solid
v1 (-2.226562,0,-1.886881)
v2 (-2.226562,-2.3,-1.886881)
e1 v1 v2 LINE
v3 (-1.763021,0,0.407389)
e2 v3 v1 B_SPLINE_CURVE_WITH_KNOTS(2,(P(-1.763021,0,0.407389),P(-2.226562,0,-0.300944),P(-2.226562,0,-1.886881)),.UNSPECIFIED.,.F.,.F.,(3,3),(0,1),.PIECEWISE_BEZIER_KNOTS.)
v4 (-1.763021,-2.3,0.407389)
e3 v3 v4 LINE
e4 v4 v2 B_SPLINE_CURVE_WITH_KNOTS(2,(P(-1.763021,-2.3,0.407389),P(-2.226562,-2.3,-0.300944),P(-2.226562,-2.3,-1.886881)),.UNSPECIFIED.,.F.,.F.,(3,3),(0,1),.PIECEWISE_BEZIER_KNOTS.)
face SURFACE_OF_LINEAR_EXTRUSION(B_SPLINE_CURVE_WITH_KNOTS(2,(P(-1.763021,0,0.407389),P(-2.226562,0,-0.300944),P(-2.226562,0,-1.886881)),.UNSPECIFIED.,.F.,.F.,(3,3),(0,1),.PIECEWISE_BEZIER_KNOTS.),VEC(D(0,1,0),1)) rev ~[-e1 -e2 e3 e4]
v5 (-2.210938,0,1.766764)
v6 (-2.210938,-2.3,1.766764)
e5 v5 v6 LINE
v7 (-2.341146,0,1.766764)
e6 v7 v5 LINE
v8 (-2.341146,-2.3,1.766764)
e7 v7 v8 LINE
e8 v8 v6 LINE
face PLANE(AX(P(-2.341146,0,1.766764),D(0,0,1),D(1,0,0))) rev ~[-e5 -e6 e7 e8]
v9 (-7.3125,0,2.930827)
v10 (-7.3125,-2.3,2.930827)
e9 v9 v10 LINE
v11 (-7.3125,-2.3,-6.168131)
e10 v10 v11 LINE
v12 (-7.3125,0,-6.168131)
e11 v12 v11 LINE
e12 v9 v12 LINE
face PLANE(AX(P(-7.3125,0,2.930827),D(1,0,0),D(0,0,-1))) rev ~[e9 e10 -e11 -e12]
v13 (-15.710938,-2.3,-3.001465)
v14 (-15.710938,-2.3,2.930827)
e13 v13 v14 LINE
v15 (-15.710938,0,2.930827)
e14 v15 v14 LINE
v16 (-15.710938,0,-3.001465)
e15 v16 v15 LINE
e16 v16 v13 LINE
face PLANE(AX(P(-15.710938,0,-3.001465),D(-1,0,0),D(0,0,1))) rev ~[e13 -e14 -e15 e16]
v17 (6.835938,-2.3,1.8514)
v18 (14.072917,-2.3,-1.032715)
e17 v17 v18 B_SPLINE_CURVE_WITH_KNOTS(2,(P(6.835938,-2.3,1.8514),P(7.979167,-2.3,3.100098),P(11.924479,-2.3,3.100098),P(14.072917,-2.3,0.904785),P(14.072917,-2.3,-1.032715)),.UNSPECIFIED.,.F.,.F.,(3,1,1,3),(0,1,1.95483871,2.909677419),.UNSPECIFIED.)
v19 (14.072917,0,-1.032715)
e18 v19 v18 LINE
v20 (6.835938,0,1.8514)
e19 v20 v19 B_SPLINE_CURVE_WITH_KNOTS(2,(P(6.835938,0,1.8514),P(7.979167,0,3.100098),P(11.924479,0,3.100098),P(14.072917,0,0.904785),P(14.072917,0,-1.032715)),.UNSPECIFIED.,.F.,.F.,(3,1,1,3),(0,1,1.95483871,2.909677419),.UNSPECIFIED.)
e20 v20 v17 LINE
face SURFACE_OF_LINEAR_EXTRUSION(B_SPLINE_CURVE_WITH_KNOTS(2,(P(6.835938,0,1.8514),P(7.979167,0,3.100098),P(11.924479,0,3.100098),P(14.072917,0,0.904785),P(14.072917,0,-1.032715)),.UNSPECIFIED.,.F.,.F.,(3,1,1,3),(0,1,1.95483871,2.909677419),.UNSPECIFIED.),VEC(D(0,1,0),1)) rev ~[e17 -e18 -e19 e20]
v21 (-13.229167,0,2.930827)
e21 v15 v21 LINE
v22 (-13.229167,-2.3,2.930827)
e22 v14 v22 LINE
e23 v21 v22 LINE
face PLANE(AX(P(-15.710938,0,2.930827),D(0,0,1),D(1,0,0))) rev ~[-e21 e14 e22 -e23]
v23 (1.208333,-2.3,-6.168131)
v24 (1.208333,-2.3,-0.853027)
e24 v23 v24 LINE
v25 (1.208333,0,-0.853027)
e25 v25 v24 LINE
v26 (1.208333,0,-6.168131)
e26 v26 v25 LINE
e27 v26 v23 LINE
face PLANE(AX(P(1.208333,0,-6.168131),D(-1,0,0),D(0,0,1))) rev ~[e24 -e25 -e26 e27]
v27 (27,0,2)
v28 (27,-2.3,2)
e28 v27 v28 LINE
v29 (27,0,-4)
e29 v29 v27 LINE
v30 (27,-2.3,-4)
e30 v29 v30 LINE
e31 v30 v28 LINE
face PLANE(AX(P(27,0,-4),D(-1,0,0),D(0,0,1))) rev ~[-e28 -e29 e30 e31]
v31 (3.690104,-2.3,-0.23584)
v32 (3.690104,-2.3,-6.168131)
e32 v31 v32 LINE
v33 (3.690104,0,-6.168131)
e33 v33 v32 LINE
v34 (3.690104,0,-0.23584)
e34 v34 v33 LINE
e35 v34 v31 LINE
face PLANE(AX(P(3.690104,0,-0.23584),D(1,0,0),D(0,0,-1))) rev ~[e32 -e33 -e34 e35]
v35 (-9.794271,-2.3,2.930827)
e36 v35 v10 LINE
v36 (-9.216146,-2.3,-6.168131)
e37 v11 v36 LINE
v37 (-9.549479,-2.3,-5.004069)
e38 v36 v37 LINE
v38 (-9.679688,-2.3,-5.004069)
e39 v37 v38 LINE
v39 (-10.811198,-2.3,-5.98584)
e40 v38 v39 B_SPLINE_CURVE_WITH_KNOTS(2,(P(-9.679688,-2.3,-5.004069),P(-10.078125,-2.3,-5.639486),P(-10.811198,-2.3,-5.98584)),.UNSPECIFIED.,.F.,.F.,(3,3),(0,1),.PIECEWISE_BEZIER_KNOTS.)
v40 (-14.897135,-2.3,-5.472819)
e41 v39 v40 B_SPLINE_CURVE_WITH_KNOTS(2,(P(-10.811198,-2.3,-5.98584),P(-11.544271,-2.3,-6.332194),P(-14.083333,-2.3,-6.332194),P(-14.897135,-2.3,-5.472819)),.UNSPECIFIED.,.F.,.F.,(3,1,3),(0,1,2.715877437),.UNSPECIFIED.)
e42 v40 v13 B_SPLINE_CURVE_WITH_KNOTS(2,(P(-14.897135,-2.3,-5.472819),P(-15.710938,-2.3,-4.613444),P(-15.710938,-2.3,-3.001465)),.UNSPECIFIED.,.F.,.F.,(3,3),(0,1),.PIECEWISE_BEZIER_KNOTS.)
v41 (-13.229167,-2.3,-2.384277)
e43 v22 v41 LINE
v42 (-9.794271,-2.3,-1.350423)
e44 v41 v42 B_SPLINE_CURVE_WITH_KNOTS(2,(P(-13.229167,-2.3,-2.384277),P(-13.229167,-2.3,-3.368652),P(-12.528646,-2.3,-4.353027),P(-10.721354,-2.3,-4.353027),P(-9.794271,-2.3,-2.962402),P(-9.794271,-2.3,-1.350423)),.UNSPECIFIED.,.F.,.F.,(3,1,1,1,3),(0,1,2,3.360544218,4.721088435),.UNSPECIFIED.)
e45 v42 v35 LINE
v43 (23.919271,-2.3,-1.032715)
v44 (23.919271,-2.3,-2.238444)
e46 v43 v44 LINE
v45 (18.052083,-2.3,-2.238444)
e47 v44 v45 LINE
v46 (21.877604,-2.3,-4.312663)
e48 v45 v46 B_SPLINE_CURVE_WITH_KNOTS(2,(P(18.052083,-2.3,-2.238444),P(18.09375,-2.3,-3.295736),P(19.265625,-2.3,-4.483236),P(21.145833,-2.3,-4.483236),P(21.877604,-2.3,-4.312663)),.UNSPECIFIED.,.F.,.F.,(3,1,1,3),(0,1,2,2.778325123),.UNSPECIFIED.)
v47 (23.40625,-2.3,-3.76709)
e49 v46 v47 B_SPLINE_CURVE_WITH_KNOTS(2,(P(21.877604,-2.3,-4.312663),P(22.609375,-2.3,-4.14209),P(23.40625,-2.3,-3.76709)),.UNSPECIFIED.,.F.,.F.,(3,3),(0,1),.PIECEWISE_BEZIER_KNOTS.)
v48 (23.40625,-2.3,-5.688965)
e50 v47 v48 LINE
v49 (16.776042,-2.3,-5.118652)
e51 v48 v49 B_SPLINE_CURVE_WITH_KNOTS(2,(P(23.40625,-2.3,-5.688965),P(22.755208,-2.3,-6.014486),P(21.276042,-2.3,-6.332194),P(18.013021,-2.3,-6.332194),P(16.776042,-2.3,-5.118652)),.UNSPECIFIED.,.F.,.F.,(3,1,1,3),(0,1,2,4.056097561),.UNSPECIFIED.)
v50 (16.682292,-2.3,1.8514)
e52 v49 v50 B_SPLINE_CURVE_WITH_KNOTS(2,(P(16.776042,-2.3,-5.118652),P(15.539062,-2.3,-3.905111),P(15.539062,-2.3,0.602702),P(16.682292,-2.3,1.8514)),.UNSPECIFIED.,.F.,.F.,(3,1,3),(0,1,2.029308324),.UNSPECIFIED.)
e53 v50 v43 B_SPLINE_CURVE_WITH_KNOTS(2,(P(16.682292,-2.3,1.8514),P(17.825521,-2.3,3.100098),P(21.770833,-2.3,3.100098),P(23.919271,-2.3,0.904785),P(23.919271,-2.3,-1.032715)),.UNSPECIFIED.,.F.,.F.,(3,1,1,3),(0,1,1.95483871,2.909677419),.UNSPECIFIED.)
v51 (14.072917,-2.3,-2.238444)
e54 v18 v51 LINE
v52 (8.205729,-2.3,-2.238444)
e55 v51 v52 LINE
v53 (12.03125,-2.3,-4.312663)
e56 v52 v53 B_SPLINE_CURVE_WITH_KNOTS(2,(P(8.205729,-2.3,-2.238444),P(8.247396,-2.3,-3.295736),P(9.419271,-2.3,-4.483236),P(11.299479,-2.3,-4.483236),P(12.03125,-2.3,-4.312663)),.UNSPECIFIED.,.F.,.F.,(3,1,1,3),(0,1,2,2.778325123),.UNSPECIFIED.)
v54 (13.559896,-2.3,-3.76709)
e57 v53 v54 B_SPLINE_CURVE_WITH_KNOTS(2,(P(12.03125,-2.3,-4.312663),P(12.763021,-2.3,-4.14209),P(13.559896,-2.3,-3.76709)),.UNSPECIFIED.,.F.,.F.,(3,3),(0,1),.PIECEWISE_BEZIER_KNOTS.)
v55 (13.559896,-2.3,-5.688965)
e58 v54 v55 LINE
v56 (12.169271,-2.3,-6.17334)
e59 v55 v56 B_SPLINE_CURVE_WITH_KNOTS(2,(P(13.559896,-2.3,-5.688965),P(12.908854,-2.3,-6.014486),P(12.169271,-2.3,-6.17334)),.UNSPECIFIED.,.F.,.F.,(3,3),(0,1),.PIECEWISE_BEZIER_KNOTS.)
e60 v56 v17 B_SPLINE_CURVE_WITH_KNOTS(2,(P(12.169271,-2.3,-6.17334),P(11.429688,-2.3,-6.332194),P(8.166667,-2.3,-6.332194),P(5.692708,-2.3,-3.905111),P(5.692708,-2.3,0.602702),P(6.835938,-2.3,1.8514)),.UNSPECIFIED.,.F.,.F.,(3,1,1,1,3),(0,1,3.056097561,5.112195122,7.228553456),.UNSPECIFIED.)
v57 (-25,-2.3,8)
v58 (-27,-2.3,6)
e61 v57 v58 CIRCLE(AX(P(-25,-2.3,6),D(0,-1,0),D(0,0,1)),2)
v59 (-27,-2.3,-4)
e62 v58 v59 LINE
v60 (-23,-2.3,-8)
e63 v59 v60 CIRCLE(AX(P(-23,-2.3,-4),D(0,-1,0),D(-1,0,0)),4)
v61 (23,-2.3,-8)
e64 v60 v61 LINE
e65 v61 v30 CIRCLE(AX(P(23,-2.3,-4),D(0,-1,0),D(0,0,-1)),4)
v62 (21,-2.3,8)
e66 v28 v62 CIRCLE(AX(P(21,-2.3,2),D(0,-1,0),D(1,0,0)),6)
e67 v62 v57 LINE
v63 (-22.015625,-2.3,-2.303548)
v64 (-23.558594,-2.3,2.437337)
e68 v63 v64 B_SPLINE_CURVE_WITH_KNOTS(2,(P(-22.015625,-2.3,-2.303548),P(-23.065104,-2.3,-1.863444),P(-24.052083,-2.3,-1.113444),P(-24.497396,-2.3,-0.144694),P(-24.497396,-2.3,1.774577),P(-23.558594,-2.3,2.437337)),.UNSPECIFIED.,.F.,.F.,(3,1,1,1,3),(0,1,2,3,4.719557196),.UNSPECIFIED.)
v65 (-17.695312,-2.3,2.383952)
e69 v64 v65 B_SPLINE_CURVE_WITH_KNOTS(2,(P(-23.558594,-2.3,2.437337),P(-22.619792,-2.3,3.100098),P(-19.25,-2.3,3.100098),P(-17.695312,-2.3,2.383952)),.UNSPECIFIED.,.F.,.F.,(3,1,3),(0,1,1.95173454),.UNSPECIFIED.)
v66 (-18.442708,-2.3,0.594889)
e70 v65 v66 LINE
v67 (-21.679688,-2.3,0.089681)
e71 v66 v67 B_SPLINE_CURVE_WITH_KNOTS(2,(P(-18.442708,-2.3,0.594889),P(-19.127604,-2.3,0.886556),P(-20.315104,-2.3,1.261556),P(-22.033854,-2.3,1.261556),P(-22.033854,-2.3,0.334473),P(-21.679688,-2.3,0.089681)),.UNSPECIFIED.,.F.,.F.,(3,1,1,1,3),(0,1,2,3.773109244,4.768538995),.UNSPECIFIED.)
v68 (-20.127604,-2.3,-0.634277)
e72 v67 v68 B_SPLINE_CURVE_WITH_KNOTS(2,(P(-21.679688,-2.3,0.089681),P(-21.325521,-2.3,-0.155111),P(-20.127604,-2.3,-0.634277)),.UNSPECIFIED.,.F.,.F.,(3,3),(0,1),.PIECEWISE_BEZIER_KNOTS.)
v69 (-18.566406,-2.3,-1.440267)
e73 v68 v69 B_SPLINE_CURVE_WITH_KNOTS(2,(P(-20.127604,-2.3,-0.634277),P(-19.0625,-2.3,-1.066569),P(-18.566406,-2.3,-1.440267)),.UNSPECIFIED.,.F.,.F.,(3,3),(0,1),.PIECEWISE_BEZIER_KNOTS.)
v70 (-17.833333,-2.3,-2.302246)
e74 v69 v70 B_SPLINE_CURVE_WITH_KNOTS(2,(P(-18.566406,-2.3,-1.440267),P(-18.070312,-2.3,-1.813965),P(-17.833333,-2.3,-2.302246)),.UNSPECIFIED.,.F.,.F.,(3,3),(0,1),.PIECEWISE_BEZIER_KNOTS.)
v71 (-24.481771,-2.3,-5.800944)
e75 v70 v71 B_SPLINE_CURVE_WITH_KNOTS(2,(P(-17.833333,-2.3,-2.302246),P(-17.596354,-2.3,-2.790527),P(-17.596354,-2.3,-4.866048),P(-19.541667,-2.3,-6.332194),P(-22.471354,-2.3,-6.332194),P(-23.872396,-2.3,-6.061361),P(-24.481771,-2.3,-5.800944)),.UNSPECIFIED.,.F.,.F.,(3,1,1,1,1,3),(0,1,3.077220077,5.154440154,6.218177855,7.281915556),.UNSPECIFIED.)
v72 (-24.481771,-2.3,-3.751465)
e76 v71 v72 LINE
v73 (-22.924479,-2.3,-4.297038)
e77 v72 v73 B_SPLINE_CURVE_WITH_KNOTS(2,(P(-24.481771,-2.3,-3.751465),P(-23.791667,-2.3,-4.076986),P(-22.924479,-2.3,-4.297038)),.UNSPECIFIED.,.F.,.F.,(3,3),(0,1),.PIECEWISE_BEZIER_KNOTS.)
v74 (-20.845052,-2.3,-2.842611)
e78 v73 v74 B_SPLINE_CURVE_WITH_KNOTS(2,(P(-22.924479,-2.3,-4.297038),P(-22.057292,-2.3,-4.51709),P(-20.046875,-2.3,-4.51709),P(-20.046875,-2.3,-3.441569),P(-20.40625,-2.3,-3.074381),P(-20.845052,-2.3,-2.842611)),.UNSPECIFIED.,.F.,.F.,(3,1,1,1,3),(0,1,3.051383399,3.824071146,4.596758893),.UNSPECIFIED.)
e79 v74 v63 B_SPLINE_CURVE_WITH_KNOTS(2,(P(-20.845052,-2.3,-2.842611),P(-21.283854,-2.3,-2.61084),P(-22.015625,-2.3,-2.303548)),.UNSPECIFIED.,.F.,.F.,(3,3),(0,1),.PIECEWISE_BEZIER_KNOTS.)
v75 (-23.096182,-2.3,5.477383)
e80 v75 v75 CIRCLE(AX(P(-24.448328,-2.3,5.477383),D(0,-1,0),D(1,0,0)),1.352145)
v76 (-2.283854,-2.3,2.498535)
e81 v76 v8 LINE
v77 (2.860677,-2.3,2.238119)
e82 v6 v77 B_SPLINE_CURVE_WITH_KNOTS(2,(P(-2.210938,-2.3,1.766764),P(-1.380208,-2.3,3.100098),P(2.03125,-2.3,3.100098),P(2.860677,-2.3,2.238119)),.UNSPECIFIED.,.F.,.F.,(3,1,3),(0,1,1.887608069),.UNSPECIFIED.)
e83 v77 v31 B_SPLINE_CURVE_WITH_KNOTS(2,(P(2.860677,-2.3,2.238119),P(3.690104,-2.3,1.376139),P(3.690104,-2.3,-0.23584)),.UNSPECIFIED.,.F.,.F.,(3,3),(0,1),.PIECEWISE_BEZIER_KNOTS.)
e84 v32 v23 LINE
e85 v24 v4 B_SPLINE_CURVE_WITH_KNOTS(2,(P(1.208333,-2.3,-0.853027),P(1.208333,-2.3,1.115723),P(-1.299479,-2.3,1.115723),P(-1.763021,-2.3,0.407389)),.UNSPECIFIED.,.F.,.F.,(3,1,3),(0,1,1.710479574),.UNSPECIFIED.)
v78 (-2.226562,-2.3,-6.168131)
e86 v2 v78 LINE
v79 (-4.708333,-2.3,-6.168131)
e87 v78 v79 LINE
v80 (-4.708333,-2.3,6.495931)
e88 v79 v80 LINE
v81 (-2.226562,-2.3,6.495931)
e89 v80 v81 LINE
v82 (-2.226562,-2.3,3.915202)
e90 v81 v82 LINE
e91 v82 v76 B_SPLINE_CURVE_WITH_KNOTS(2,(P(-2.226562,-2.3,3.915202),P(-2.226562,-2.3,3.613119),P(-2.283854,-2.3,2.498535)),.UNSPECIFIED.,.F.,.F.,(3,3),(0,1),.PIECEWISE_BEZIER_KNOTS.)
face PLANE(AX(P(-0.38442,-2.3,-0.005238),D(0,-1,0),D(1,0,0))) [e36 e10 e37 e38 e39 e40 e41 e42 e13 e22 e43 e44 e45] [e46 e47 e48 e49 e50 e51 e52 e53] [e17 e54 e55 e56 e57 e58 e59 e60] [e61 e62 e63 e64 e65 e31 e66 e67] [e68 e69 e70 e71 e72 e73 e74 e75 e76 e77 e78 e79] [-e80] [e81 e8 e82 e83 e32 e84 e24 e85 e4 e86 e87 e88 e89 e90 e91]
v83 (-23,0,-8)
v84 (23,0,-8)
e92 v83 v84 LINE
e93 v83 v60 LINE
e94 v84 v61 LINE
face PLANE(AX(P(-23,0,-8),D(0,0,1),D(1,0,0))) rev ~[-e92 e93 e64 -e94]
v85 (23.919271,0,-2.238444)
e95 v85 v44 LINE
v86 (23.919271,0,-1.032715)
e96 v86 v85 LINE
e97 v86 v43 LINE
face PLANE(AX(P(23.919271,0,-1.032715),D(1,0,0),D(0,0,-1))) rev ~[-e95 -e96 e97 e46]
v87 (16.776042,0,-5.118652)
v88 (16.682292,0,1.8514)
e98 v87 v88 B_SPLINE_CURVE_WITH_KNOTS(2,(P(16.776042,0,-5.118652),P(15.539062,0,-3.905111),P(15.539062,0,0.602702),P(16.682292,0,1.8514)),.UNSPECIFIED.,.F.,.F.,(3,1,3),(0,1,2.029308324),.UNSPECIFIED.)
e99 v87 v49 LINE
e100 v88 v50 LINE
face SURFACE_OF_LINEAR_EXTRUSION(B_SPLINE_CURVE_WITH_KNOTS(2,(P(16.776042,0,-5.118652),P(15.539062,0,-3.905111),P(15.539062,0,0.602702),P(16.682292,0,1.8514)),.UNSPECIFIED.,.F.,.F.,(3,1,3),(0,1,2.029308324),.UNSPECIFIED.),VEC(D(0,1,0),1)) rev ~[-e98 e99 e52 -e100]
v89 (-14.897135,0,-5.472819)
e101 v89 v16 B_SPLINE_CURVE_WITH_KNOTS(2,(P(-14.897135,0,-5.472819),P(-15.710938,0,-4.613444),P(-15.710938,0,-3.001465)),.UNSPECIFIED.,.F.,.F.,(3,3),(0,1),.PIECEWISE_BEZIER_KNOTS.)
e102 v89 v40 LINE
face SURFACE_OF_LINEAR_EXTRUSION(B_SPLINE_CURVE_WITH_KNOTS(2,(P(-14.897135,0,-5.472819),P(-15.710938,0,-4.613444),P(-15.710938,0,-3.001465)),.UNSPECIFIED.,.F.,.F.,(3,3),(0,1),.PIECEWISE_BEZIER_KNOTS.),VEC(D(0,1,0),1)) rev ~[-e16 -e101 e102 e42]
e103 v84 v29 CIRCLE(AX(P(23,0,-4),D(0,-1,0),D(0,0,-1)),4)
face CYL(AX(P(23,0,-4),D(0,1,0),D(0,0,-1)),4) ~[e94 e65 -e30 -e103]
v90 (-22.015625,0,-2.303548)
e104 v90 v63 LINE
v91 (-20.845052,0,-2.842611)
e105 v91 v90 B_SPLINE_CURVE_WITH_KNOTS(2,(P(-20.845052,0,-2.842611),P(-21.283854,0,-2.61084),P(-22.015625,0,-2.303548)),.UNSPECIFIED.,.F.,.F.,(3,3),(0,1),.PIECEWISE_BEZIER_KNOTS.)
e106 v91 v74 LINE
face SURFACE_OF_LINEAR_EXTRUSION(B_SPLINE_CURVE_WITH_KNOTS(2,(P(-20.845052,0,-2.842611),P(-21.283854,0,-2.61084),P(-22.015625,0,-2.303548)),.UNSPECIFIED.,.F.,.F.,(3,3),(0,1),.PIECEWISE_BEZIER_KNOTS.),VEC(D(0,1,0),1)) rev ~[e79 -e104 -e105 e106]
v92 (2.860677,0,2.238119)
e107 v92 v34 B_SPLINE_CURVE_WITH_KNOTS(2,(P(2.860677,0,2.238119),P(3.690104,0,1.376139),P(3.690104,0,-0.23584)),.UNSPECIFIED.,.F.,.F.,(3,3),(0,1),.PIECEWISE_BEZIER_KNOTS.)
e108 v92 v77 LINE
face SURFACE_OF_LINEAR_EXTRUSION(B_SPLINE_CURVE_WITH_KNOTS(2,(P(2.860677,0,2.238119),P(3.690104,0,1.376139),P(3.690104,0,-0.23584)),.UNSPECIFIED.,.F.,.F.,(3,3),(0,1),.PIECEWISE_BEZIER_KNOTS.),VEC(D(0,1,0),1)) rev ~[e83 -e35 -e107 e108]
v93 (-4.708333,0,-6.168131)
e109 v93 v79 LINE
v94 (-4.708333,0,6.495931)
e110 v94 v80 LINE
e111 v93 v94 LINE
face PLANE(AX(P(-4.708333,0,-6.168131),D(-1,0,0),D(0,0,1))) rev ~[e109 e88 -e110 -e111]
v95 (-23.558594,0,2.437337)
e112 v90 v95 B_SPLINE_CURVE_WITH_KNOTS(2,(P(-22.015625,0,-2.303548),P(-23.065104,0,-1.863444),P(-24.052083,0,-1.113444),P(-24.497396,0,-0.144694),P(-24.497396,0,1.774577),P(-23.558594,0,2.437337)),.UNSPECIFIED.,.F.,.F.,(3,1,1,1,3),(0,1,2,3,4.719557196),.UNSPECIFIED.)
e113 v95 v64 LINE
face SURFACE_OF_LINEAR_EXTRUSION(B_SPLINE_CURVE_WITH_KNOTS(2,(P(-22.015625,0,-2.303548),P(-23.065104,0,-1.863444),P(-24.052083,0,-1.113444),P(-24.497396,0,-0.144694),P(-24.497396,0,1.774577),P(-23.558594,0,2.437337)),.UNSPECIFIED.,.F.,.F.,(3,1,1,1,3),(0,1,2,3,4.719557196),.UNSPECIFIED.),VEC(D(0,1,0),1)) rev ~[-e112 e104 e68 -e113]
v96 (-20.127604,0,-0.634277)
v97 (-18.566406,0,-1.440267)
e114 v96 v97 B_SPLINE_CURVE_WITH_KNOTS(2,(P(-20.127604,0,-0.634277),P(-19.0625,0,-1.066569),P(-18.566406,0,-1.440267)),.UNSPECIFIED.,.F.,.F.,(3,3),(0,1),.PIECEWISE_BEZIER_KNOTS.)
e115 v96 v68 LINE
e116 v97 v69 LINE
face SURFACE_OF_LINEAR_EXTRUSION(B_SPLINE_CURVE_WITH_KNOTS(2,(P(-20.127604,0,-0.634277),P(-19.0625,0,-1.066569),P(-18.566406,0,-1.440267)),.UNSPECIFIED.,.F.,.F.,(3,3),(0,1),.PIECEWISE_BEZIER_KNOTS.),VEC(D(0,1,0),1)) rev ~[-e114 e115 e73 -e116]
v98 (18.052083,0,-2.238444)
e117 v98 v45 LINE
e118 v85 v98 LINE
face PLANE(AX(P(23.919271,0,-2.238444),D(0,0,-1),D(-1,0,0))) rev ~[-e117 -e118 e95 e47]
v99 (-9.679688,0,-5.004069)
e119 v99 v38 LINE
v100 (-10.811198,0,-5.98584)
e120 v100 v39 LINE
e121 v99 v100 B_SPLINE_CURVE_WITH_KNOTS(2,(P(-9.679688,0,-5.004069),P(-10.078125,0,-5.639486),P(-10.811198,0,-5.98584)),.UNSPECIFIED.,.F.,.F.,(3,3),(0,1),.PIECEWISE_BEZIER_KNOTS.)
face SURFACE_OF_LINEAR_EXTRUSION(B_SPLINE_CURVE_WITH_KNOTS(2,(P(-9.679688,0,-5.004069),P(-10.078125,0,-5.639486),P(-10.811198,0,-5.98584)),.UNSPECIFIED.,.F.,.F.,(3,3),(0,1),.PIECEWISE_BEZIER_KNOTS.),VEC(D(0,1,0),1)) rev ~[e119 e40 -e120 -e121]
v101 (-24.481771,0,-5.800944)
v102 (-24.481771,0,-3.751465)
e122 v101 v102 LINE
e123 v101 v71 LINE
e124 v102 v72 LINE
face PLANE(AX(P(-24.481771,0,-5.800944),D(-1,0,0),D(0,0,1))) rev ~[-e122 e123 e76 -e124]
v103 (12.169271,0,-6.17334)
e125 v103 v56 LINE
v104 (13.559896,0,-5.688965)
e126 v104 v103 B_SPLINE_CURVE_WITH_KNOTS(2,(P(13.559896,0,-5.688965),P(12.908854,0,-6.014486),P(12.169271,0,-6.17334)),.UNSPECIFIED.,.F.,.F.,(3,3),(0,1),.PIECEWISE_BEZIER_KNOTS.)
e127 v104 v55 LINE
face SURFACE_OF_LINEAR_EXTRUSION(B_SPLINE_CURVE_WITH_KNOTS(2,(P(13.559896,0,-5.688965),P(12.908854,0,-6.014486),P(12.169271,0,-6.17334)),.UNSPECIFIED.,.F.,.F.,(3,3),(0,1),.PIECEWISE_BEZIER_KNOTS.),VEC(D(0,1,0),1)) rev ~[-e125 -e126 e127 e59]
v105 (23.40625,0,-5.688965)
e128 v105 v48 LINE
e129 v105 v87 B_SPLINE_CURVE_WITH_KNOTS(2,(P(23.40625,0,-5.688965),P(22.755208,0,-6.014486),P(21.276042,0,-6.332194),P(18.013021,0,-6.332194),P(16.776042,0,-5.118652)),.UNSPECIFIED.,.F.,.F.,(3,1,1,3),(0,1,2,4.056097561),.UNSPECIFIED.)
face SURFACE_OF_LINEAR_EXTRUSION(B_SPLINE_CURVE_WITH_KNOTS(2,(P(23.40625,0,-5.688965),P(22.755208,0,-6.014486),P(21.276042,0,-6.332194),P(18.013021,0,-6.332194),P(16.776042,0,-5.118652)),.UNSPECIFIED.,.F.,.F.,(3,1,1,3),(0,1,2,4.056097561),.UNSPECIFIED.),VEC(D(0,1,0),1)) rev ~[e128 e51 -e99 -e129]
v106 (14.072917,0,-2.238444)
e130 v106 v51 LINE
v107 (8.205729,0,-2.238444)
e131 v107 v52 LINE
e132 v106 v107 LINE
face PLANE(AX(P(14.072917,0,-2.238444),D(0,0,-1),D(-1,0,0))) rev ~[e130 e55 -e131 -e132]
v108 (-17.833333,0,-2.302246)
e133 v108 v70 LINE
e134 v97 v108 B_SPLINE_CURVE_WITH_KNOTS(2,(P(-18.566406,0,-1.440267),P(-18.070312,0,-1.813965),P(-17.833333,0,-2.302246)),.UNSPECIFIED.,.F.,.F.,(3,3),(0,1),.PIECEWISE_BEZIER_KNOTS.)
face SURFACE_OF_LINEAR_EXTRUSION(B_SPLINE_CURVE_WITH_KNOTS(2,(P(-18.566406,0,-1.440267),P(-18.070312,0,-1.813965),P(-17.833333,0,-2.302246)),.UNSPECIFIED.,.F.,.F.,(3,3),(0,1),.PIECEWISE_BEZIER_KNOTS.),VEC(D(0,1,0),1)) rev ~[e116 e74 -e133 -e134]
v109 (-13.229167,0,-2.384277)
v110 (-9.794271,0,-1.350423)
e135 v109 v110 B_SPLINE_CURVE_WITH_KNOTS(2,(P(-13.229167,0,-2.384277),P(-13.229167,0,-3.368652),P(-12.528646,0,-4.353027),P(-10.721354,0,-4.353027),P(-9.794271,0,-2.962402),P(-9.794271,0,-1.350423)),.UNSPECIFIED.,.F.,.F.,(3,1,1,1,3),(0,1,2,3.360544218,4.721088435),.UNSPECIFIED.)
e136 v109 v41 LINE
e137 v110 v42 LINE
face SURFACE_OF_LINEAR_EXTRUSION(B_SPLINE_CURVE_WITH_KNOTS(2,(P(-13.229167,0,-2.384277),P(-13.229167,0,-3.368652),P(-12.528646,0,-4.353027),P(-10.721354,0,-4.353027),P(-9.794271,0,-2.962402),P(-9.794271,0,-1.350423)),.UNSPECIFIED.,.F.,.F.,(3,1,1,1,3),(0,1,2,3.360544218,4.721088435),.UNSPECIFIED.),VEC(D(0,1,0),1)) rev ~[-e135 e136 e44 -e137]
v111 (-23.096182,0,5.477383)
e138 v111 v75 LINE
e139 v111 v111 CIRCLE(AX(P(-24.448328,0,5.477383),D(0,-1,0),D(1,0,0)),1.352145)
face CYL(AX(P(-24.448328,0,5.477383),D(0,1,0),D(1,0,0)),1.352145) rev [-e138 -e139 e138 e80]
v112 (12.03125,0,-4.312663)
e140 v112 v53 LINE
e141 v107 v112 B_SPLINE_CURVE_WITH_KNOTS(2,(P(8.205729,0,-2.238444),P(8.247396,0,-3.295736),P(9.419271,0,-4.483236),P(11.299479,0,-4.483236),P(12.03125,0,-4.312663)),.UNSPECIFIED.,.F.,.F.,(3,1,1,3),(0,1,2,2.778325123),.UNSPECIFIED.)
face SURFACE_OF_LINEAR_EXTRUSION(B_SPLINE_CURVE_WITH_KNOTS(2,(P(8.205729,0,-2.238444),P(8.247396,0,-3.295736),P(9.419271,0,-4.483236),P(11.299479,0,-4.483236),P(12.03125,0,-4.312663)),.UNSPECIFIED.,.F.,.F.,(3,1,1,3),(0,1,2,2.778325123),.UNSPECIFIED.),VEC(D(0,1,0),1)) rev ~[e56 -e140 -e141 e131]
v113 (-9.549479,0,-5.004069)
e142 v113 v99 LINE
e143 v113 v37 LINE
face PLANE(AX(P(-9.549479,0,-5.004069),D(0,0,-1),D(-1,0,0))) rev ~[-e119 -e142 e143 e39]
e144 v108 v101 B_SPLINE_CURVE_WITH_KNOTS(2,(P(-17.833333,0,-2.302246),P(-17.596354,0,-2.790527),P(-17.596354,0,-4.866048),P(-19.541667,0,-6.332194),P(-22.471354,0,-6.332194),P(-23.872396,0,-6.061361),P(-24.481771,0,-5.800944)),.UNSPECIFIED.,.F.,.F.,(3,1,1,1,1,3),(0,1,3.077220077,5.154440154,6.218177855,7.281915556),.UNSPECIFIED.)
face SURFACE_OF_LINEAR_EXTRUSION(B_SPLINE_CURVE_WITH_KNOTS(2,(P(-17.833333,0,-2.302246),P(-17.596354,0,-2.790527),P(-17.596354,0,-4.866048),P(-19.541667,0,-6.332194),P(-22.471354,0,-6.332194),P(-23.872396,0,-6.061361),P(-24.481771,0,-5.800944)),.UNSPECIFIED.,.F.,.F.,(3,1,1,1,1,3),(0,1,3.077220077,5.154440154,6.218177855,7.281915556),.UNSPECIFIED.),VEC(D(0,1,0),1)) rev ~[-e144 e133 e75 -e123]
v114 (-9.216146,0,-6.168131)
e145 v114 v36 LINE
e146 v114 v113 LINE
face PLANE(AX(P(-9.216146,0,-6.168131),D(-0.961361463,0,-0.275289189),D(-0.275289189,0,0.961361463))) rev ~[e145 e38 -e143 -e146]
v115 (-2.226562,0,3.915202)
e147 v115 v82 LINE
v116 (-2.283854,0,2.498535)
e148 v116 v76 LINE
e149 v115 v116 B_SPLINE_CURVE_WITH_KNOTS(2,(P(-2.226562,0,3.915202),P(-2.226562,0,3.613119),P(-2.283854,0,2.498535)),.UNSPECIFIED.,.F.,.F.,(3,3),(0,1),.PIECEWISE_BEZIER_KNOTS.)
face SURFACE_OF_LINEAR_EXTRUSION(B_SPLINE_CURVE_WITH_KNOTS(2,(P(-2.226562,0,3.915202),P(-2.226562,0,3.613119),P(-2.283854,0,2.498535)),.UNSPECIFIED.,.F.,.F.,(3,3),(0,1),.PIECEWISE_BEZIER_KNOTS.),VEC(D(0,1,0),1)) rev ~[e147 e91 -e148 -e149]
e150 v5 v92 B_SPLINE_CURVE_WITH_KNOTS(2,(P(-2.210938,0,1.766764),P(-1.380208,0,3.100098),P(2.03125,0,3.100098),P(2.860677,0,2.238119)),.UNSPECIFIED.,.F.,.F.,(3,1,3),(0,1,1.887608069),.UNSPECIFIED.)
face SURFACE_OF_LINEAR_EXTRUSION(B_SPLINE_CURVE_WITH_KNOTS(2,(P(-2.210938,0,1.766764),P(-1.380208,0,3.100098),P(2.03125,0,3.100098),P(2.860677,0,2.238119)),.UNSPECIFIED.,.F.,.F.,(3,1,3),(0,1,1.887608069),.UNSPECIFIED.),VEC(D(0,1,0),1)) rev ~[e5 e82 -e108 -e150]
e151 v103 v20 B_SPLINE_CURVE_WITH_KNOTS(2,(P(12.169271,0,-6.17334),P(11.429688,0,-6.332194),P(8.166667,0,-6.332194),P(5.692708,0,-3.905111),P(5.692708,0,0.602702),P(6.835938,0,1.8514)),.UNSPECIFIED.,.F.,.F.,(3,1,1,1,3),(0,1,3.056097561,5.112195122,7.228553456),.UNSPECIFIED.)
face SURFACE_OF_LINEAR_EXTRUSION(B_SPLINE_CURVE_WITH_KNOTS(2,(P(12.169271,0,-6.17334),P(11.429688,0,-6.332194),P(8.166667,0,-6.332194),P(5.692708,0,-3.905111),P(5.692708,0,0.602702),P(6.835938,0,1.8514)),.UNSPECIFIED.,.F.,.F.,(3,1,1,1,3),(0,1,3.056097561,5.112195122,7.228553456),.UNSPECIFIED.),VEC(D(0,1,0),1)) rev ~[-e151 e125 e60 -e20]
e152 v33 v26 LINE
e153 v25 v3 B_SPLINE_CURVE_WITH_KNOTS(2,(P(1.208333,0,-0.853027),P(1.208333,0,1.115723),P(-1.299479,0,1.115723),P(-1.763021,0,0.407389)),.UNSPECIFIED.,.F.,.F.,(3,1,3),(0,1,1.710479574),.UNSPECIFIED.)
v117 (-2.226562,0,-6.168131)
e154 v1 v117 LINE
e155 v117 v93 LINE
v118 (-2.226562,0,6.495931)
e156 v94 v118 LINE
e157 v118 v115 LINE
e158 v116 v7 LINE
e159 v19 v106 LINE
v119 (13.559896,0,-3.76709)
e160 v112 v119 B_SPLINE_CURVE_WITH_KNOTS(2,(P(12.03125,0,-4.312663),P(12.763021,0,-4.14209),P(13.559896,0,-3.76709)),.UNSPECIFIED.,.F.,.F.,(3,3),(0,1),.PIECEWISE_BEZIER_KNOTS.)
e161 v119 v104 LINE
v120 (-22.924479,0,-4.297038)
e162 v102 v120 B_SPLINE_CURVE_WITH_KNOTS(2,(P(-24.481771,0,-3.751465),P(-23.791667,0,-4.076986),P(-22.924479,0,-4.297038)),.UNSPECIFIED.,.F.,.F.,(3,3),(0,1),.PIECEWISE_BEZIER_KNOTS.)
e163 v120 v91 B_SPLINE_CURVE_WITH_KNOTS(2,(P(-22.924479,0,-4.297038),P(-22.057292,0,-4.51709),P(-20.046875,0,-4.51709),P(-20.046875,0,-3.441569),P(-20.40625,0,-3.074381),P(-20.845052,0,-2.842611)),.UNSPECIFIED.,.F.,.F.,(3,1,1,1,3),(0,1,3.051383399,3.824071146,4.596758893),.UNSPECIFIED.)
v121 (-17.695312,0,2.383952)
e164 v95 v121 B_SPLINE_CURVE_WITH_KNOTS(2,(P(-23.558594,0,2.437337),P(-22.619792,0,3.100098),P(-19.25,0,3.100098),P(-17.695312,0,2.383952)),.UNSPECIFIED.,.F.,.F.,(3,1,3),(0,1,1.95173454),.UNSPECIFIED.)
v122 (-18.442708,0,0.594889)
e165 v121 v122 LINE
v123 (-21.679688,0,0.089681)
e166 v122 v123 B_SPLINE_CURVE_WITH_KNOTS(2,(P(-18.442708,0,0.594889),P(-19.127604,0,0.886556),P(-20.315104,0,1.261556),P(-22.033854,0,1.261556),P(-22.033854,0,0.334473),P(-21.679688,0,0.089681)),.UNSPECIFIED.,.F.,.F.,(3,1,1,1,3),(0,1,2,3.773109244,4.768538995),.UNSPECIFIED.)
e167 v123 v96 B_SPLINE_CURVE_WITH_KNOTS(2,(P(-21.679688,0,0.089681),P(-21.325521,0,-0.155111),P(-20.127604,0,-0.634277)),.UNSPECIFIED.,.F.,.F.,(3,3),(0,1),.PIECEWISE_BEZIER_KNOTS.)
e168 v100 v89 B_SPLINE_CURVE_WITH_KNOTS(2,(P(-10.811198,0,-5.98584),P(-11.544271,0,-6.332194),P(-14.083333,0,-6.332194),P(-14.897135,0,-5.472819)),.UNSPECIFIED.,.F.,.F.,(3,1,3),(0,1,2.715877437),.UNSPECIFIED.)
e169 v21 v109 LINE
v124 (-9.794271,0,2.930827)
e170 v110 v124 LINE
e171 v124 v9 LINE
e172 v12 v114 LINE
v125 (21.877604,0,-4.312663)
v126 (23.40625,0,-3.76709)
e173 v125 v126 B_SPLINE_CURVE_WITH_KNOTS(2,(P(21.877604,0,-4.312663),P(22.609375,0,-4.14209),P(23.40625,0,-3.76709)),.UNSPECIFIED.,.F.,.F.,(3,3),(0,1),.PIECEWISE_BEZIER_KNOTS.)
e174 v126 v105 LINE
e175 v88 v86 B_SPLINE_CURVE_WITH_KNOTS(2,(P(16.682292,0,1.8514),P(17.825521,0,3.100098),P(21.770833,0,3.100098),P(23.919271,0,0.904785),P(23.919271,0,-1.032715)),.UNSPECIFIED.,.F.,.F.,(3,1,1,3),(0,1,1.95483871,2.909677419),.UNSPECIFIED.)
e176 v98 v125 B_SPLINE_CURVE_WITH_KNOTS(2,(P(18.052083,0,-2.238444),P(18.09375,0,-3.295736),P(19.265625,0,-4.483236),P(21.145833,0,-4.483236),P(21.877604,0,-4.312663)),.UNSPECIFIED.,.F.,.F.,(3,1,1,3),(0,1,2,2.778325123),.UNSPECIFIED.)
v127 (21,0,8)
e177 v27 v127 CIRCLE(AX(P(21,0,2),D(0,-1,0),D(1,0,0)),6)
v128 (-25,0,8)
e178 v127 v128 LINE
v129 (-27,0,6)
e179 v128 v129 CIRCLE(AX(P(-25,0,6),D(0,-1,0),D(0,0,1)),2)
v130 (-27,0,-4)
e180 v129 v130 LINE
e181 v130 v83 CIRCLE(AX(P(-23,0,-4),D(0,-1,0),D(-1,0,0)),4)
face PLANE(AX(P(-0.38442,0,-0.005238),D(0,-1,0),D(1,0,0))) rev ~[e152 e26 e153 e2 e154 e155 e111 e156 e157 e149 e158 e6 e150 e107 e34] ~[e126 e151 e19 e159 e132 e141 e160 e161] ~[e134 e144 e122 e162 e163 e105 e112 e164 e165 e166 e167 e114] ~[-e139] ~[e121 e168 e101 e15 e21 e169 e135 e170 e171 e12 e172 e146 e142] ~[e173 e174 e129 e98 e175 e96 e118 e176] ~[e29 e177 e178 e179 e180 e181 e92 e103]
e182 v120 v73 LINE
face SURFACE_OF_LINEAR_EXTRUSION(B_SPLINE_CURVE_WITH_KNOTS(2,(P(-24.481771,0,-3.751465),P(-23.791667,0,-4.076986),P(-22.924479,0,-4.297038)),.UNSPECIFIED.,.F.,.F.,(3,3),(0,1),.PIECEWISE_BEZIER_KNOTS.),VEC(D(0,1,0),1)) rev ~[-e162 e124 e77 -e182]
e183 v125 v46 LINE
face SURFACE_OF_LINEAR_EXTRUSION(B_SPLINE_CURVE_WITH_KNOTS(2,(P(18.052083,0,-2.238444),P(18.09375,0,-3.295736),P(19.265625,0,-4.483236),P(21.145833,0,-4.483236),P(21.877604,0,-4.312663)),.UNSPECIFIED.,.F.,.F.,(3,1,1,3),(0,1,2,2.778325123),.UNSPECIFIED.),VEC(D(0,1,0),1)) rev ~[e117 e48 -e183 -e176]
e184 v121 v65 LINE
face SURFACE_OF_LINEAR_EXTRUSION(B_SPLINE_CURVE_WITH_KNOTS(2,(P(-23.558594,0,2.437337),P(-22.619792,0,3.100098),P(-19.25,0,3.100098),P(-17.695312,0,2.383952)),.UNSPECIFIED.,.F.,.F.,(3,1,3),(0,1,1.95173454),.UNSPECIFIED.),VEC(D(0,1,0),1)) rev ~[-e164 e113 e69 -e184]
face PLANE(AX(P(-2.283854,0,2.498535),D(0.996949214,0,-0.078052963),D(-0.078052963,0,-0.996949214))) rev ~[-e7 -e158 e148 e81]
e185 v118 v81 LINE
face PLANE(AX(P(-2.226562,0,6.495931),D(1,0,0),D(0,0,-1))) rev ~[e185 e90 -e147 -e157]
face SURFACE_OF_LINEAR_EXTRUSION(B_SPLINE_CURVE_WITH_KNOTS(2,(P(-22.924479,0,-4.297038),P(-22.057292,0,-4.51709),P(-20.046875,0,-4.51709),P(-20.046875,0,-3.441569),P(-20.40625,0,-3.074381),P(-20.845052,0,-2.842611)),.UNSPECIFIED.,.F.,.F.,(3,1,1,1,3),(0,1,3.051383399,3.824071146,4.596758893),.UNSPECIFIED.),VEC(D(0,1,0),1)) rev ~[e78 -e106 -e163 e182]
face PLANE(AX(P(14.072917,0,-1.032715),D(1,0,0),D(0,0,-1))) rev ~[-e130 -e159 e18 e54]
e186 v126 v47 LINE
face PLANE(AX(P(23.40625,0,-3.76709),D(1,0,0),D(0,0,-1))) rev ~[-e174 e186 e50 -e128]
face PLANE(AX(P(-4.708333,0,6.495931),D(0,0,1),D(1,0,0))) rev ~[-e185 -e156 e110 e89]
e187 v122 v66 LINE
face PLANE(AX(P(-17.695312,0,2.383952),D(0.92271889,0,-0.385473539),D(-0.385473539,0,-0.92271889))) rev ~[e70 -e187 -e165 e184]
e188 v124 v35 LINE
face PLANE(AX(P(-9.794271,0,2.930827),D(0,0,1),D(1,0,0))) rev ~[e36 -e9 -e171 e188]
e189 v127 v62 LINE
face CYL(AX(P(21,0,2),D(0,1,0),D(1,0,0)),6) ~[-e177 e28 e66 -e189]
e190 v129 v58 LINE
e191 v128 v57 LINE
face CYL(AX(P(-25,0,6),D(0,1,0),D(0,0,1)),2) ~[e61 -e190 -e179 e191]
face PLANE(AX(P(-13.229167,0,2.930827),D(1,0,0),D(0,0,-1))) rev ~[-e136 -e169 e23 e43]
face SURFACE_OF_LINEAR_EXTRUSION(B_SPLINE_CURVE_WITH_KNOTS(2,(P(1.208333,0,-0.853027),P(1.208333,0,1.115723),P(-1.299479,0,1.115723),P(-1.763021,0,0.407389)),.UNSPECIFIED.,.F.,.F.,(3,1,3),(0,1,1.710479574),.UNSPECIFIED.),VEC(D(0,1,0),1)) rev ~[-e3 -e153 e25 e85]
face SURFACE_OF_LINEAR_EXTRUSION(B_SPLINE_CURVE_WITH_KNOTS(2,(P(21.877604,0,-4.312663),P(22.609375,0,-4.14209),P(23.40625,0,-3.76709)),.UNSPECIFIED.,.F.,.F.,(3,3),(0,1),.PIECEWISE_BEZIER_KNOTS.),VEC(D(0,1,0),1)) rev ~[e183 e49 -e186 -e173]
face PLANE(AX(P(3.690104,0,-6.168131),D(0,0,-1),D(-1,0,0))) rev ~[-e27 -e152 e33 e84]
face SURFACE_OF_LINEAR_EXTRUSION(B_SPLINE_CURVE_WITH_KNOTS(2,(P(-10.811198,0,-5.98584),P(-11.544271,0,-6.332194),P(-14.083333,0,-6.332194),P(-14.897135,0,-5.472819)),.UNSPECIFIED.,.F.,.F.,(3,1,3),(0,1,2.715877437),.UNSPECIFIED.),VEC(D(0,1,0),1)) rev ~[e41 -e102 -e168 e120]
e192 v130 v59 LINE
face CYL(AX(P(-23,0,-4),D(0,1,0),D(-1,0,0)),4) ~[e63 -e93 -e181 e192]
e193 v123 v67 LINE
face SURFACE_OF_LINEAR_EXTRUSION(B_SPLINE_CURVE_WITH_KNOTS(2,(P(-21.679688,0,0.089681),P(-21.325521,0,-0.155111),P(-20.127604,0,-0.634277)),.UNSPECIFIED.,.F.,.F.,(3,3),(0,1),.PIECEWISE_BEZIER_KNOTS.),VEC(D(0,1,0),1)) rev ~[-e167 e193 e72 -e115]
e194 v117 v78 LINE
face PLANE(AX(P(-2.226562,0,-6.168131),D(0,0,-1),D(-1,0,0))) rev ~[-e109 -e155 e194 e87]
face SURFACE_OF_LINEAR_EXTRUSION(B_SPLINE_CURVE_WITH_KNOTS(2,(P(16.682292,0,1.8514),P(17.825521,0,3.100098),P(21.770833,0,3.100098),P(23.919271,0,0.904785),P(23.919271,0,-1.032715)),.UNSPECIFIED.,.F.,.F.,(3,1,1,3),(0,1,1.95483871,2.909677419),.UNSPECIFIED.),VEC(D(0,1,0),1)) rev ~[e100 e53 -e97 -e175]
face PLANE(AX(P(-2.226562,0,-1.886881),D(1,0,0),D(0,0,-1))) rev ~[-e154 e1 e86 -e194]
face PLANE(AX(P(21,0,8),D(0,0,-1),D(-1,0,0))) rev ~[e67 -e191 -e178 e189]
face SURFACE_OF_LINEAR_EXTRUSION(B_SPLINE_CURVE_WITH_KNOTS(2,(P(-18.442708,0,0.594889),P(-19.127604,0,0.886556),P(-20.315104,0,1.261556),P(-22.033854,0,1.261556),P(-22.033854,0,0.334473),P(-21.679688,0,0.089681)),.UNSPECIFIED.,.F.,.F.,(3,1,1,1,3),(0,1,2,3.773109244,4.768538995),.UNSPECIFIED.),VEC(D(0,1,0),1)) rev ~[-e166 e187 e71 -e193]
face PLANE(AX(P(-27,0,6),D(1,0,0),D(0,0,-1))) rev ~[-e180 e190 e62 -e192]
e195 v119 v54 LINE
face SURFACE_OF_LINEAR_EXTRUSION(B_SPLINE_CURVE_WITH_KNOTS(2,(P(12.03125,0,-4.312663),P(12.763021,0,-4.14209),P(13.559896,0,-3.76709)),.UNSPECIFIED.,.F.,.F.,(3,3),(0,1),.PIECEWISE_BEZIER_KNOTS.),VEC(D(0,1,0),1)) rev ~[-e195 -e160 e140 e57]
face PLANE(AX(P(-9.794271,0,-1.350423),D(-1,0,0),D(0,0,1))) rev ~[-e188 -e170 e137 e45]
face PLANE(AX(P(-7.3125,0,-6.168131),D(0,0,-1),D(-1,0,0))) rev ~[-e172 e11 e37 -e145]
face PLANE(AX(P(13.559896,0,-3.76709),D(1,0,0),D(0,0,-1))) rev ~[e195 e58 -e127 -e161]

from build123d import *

# Parameters (mm, degrees)
F0_R     = 1.3521453892
F1_DEPTH = 2.3


with BuildPart() as f1:
    # F0 (on Front) → F1 (new body)
    with BuildSketch(Plane.XZ):
        with BuildLine():
            Line((-23, -8), (23, -8))
            ThreePointArc((23, -8), (25.8284271247, -6.8284271247), (27, -4))
            Line((27, -4), (27, 2))
            ThreePointArc((27, 2), (25.2426406871, 6.2426406871), (21, 8))
            Line((21, 8), (-25, 8))
            ThreePointArc((-25, 8), (-26.4142135624, 7.4142135624), (-27, 6))
            Line((-27, 6), (-27, -4))
            ThreePointArc((-27, -4), (-25.8284271247, -6.8284271247), (-23, -8))
        make_face()
        with BuildLine():
            add(Edge.make_bspline(
                [(-17.8333333333, -2.3022460452), (-17.5963541667, -2.7905272952), (-17.5963541667, -3.4650064619)],
                knots=[0, 0, 0, 1, 1, 1], degree=2))
            add(Edge.make_bspline(
                [(-17.5963541667, -3.4650064619), (-17.5963541667, -4.8660481285), (-18.5690104167, -5.5991210452)],
                knots=[0, 0, 0, 1, 1, 1], degree=2))
            add(Edge.make_bspline(
                [(-18.5690104167, -5.5991210452), (-19.5416666667, -6.3321939619), (-21.4791666667, -6.3321939619)],
                knots=[0, 0, 0, 1, 1, 1], degree=2))
            add(Edge.make_bspline(
                [(-21.4791666667, -6.3321939619), (-22.4713541667, -6.3321939619), (-23.171875, -6.1967772952)],
                knots=[0, 0, 0, 1, 1, 1], degree=2))
            add(Edge.make_bspline(
                [(-23.171875, -6.1967772952), (-23.8723958333, -6.0613606285), (-24.4817708333, -5.8009439619)],
                knots=[0, 0, 0, 1, 1, 1], degree=2))
            Line((-24.4817708333, -5.8009439619), (-24.4817708333, -3.7514647952))
            add(Edge.make_bspline(
                [(-24.4817708333, -3.7514647952), (-23.7916666667, -4.0769856285), (-22.9244791667, -4.2970377119)],
                knots=[0, 0, 0, 1, 1, 1], degree=2))
            add(Edge.make_bspline(
                [(-22.9244791667, -4.2970377119), (-22.0572916667, -4.5170897952), (-21.3984375, -4.5170897952)],
                knots=[0, 0, 0, 1, 1, 1], degree=2))
            add(Edge.make_bspline(
                [(-21.3984375, -4.5170897952), (-20.046875, -4.5170897952), (-20.046875, -3.7358397952)],
                knots=[0, 0, 0, 1, 1, 1], degree=2))
            add(Edge.make_bspline(
                [(-20.046875, -3.7358397952), (-20.046875, -3.4415689619), (-20.2265625, -3.2579752119)],
                knots=[0, 0, 0, 1, 1, 1], degree=2))
            add(Edge.make_bspline(
                [(-20.2265625, -3.2579752119), (-20.40625, -3.0743814619), (-20.8450520833, -2.8426106285)],
                knots=[0, 0, 0, 1, 1, 1], degree=2))
            add(Edge.make_bspline(
                [(-20.8450520833, -2.8426106285), (-21.2838541667, -2.6108397952), (-22.015625, -2.3035481285)],
                knots=[0, 0, 0, 1, 1, 1], degree=2))
            add(Edge.make_bspline(
                [(-22.015625, -2.3035481285), (-23.0651041667, -1.8634439619), (-23.55859375, -1.4884439619)],
                knots=[0, 0, 0, 1, 1, 1], degree=2))
            add(Edge.make_bspline(
                [(-23.55859375, -1.4884439619), (-24.0520833333, -1.1134439619), (-24.2747395833, -0.6290689619)],
                knots=[0, 0, 0, 1, 1, 1], degree=2))
            add(Edge.make_bspline(
                [(-24.2747395833, -0.6290689619), (-24.4973958333, -0.1446939619), (-24.4973958333, 0.5610352048)],
                knots=[0, 0, 0, 1, 1, 1], degree=2))
            add(Edge.make_bspline(
                [(-24.4973958333, 0.5610352048), (-24.4973958333, 1.7745768715), (-23.55859375, 2.4373372881)],
                knots=[0, 0, 0, 1, 1, 1], degree=2))
            add(Edge.make_bspline(
                [(-23.55859375, 2.4373372881), (-22.6197916667, 3.1000977048), (-20.8932291667, 3.1000977048)],
                knots=[0, 0, 0, 1, 1, 1], degree=2))
            add(Edge.make_bspline(
                [(-20.8932291667, 3.1000977048), (-19.25, 3.1000977048), (-17.6953125, 2.3839518715)],
                knots=[0, 0, 0, 1, 1, 1], degree=2))
            Line((-17.6953125, 2.3839518715), (-18.4427083333, 0.5948893715))
            add(Edge.make_bspline(
                [(-18.4427083333, 0.5948893715), (-19.1276041667, 0.8865560381), (-19.7213541667, 1.0740560381)],
                knots=[0, 0, 0, 1, 1, 1], degree=2))
            add(Edge.make_bspline(
                [(-19.7213541667, 1.0740560381), (-20.3151041667, 1.2615560381), (-20.9348958333, 1.2615560381)],
                knots=[0, 0, 0, 1, 1, 1], degree=2))
            add(Edge.make_bspline(
                [(-20.9348958333, 1.2615560381), (-22.0338541667, 1.2615560381), (-22.0338541667, 0.6678060381)],
                knots=[0, 0, 0, 1, 1, 1], degree=2))
            add(Edge.make_bspline(
                [(-22.0338541667, 0.6678060381), (-22.0338541667, 0.3344727048), (-21.6796875, 0.0896810381)],
                knots=[0, 0, 0, 1, 1, 1], degree=2))
            add(Edge.make_bspline(
                [(-21.6796875, 0.0896810381), (-21.3255208333, -0.1551106285), (-20.1276041667, -0.6342772952)],
                knots=[0, 0, 0, 1, 1, 1], degree=2))
            add(Edge.make_bspline(
                [(-20.1276041667, -0.6342772952), (-19.0625, -1.0665689619), (-18.56640625, -1.4402668785)],
                knots=[0, 0, 0, 1, 1, 1], degree=2))
            add(Edge.make_bspline(
                [(-18.56640625, -1.4402668785), (-18.0703125, -1.8139647952), (-17.8333333333, -2.3022460452)],
                knots=[0, 0, 0, 1, 1, 1], degree=2))
        make_face(mode=Mode.SUBTRACT)
        with BuildLine():
            Line((-7.3125, -6.1681314619), (-9.2161458333, -6.1681314619))
            Line((-9.2161458333, -6.1681314619), (-9.5494791667, -5.0040689619))
            Line((-9.5494791667, -5.0040689619), (-9.6796875, -5.0040689619))
            add(Edge.make_bspline(
                [(-9.6796875, -5.0040689619), (-10.078125, -5.6394856285), (-10.8111979167, -5.9858397952)],
                knots=[0, 0, 0, 1, 1, 1], degree=2))
            add(Edge.make_bspline(
                [(-10.8111979167, -5.9858397952), (-11.5442708333, -6.3321939619), (-12.4791666667, -6.3321939619)],
                knots=[0, 0, 0, 1, 1, 1], degree=2))
            add(Edge.make_bspline(
                [(-12.4791666667, -6.3321939619), (-14.0833333333, -6.3321939619), (-14.8971354167, -5.4728189619)],
                knots=[0, 0, 0, 1, 1, 1], degree=2))
            add(Edge.make_bspline(
                [(-14.8971354167, -5.4728189619), (-15.7109375, -4.6134439619), (-15.7109375, -3.0014647952)],
                knots=[0, 0, 0, 1, 1, 1], degree=2))
            Line((-15.7109375, -3.0014647952), (-15.7109375, 2.9308268715))
            Line((-15.7109375, 2.9308268715), (-13.2291666667, 2.9308268715))
            Line((-13.2291666667, 2.9308268715), (-13.2291666667, -2.3842772952))
            add(Edge.make_bspline(
                [(-13.2291666667, -2.3842772952), (-13.2291666667, -3.3686522952), (-12.87890625, -3.8608397952)],
                knots=[0, 0, 0, 1, 1, 1], degree=2))
            add(Edge.make_bspline(
                [(-12.87890625, -3.8608397952), (-12.5286458333, -4.3530272952), (-11.7630208333, -4.3530272952)],
                knots=[0, 0, 0, 1, 1, 1], degree=2))
            add(Edge.make_bspline(
                [(-11.7630208333, -4.3530272952), (-10.7213541667, -4.3530272952), (-10.2578125, -3.6577147952)],
                knots=[0, 0, 0, 1, 1, 1], degree=2))
            add(Edge.make_bspline(
                [(-10.2578125, -3.6577147952), (-9.7942708333, -2.9624022952), (-9.7942708333, -1.3504231285)],
                knots=[0, 0, 0, 1, 1, 1], degree=2))
            Line((-9.7942708333, -1.3504231285), (-9.7942708333, 2.9308268715))
            Line((-9.7942708333, 2.9308268715), (-7.3125, 2.9308268715))
            Line((-7.3125, 2.9308268715), (-7.3125, -6.1681314619))
        make_face(mode=Mode.SUBTRACT)
        with BuildLine():
            add(Edge.make_bspline(
                [(12.1692708333, -6.1733397952), (11.4296875, -6.3321939619), (10.3619791667, -6.3321939619)],
                knots=[0, 0, 0, 1, 1, 1], degree=2))
            add(Edge.make_bspline(
                [(10.3619791667, -6.3321939619), (8.1666666667, -6.3321939619), (6.9296875, -5.1186522952)],
                knots=[0, 0, 0, 1, 1, 1], degree=2))
            add(Edge.make_bspline(
                [(6.9296875, -5.1186522952), (5.6927083333, -3.9051106285), (5.6927083333, -1.6837564619)],
                knots=[0, 0, 0, 1, 1, 1], degree=2))
            add(Edge.make_bspline(
                [(5.6927083333, -1.6837564619), (5.6927083333, 0.6027018715), (6.8359375, 1.8513997881)],
                knots=[0, 0, 0, 1, 1, 1], degree=2))
            add(Edge.make_bspline(
                [(6.8359375, 1.8513997881), (7.9791666667, 3.1000977048), (9.9973958333, 3.1000977048)],
                knots=[0, 0, 0, 1, 1, 1], degree=2))
            add(Edge.make_bspline(
                [(9.9973958333, 3.1000977048), (11.9244791667, 3.1000977048), (12.9986979167, 2.0024414548)],
                knots=[0, 0, 0, 1, 1, 1], degree=2))
            add(Edge.make_bspline(
                [(12.9986979167, 2.0024414548), (14.0729166667, 0.9047852048), (14.0729166667, -1.0327147952)],
                knots=[0, 0, 0, 1, 1, 1], degree=2))
            Line((14.0729166667, -1.0327147952), (14.0729166667, -2.2384439619))
            Line((14.0729166667, -2.2384439619), (8.2057291667, -2.2384439619))
            add(Edge.make_bspline(
                [(8.2057291667, -2.2384439619), (8.2473958333, -3.2957356285), (8.8333333333, -3.8894856285)],
                knots=[0, 0, 0, 1, 1, 1], degree=2))
            add(Edge.make_bspline(
                [(8.8333333333, -3.8894856285), (9.4192708333, -4.4832356285), (10.4765625, -4.4832356285)],
                knots=[0, 0, 0, 1, 1, 1], degree=2))
            add(Edge.make_bspline(
                [(10.4765625, -4.4832356285), (11.2994791667, -4.4832356285), (12.03125, -4.3126627119)],
                knots=[0, 0, 0, 1, 1, 1], degree=2))
            add(Edge.make_bspline(
                [(12.03125, -4.3126627119), (12.7630208333, -4.1420897952), (13.5598958333, -3.7670897952)],
                knots=[0, 0, 0, 1, 1, 1], degree=2))
            Line((13.5598958333, -3.7670897952), (13.5598958333, -5.6889647952))
            add(Edge.make_bspline(
                [(13.5598958333, -5.6889647952), (12.9088541667, -6.0144856285), (12.1692708333, -6.1733397952)],
                knots=[0, 0, 0, 1, 1, 1], degree=2))
        make_face(mode=Mode.SUBTRACT)
        with BuildLine():
            add(Edge.make_bspline(
                [(22.015625, -6.1733397952), (21.2760416667, -6.3321939619), (20.2083333333, -6.3321939619)],
                knots=[0, 0, 0, 1, 1, 1], degree=2))
            add(Edge.make_bspline(
                [(20.2083333333, -6.3321939619), (18.0130208333, -6.3321939619), (16.7760416667, -5.1186522952)],
                knots=[0, 0, 0, 1, 1, 1], degree=2))
            add(Edge.make_bspline(
                [(16.7760416667, -5.1186522952), (15.5390625, -3.9051106285), (15.5390625, -1.6837564619)],
                knots=[0, 0, 0, 1, 1, 1], degree=2))
            add(Edge.make_bspline(
                [(15.5390625, -1.6837564619), (15.5390625, 0.6027018715), (16.6822916667, 1.8513997881)],
                knots=[0, 0, 0, 1, 1, 1], degree=2))
            add(Edge.make_bspline(
                [(16.6822916667, 1.8513997881), (17.8255208333, 3.1000977048), (19.84375, 3.1000977048)],
                knots=[0, 0, 0, 1, 1, 1], degree=2))
            add(Edge.make_bspline(
                [(19.84375, 3.1000977048), (21.7708333333, 3.1000977048), (22.8450520833, 2.0024414548)],
                knots=[0, 0, 0, 1, 1, 1], degree=2))
            add(Edge.make_bspline(
                [(22.8450520833, 2.0024414548), (23.9192708333, 0.9047852048), (23.9192708333, -1.0327147952)],
                knots=[0, 0, 0, 1, 1, 1], degree=2))
            Line((23.9192708333, -1.0327147952), (23.9192708333, -2.2384439619))
            Line((23.9192708333, -2.2384439619), (18.0520833333, -2.2384439619))
            add(Edge.make_bspline(
                [(18.0520833333, -2.2384439619), (18.09375, -3.2957356285), (18.6796875, -3.8894856285)],
                knots=[0, 0, 0, 1, 1, 1], degree=2))
            add(Edge.make_bspline(
                [(18.6796875, -3.8894856285), (19.265625, -4.4832356285), (20.3229166667, -4.4832356285)],
                knots=[0, 0, 0, 1, 1, 1], degree=2))
            add(Edge.make_bspline(
                [(20.3229166667, -4.4832356285), (21.1458333333, -4.4832356285), (21.8776041667, -4.3126627119)],
                knots=[0, 0, 0, 1, 1, 1], degree=2))
            add(Edge.make_bspline(
                [(21.8776041667, -4.3126627119), (22.609375, -4.1420897952), (23.40625, -3.7670897952)],
                knots=[0, 0, 0, 1, 1, 1], degree=2))
            Line((23.40625, -3.7670897952), (23.40625, -5.6889647952))
            add(Edge.make_bspline(
                [(23.40625, -5.6889647952), (22.7552083333, -6.0144856285), (22.015625, -6.1733397952)],
                knots=[0, 0, 0, 1, 1, 1], degree=2))
        make_face(mode=Mode.SUBTRACT)
        with BuildLine():
            Line((3.6901041667, -0.2358397952), (3.6901041667, -6.1681314619))
            Line((3.6901041667, -6.1681314619), (1.2083333333, -6.1681314619))
            Line((1.2083333333, -6.1681314619), (1.2083333333, -0.8530272952))
            add(Edge.make_bspline(
                [(1.2083333333, -0.8530272952), (1.2083333333, 1.1157227048), (-0.2578125, 1.1157227048)],
                knots=[0, 0, 0, 1, 1, 1], degree=2))
            add(Edge.make_bspline(
                [(-0.2578125, 1.1157227048), (-1.2994791667, 1.1157227048), (-1.7630208333, 0.4073893715)],
                knots=[0, 0, 0, 1, 1, 1], degree=2))
            add(Edge.make_bspline(
                [(-1.7630208333, 0.4073893715), (-2.2265625, -0.3009439619), (-2.2265625, -1.8868814619)],
                knots=[0, 0, 0, 1, 1, 1], degree=2))
            Line((-2.2265625, -1.8868814619), (-2.2265625, -6.1681314619))
            Line((-2.2265625, -6.1681314619), (-4.7083333333, -6.1681314619))
            Line((-4.7083333333, -6.1681314619), (-4.7083333333, 6.4959310381))
            Line((-4.7083333333, 6.4959310381), (-2.2265625, 6.4959310381))
            Line((-2.2265625, 6.4959310381), (-2.2265625, 3.9152018715))
            add(Edge.make_bspline(
                [(-2.2265625, 3.9152018715), (-2.2265625, 3.6131185381), (-2.2838541667, 2.4985352048)],
                knots=[0, 0, 0, 1, 1, 1], degree=2))
            Line((-2.2838541667, 2.4985352048), (-2.3411458333, 1.7667643715))
            Line((-2.3411458333, 1.7667643715), (-2.2109375, 1.7667643715))
            add(Edge.make_bspline(
                [(-2.2109375, 1.7667643715), (-1.3802083333, 3.1000977048), (0.4270833333, 3.1000977048)],
                knots=[0, 0, 0, 1, 1, 1], degree=2))
            add(Edge.make_bspline(
                [(0.4270833333, 3.1000977048), (2.03125, 3.1000977048), (2.8606770833, 2.2381185381)],
                knots=[0, 0, 0, 1, 1, 1], degree=2))
            add(Edge.make_bspline(
                [(2.8606770833, 2.2381185381), (3.6901041667, 1.3761393715), (3.6901041667, -0.2358397952)],
                knots=[0, 0, 0, 1, 1, 1], degree=2))
        make_face(mode=Mode.SUBTRACT)
        with Locations((-24.4483277202, 5.4773832671)):
            Circle(F0_R, mode=Mode.SUBTRACT)
    extrude(amount=F1_DEPTH)


solid = f1.part
